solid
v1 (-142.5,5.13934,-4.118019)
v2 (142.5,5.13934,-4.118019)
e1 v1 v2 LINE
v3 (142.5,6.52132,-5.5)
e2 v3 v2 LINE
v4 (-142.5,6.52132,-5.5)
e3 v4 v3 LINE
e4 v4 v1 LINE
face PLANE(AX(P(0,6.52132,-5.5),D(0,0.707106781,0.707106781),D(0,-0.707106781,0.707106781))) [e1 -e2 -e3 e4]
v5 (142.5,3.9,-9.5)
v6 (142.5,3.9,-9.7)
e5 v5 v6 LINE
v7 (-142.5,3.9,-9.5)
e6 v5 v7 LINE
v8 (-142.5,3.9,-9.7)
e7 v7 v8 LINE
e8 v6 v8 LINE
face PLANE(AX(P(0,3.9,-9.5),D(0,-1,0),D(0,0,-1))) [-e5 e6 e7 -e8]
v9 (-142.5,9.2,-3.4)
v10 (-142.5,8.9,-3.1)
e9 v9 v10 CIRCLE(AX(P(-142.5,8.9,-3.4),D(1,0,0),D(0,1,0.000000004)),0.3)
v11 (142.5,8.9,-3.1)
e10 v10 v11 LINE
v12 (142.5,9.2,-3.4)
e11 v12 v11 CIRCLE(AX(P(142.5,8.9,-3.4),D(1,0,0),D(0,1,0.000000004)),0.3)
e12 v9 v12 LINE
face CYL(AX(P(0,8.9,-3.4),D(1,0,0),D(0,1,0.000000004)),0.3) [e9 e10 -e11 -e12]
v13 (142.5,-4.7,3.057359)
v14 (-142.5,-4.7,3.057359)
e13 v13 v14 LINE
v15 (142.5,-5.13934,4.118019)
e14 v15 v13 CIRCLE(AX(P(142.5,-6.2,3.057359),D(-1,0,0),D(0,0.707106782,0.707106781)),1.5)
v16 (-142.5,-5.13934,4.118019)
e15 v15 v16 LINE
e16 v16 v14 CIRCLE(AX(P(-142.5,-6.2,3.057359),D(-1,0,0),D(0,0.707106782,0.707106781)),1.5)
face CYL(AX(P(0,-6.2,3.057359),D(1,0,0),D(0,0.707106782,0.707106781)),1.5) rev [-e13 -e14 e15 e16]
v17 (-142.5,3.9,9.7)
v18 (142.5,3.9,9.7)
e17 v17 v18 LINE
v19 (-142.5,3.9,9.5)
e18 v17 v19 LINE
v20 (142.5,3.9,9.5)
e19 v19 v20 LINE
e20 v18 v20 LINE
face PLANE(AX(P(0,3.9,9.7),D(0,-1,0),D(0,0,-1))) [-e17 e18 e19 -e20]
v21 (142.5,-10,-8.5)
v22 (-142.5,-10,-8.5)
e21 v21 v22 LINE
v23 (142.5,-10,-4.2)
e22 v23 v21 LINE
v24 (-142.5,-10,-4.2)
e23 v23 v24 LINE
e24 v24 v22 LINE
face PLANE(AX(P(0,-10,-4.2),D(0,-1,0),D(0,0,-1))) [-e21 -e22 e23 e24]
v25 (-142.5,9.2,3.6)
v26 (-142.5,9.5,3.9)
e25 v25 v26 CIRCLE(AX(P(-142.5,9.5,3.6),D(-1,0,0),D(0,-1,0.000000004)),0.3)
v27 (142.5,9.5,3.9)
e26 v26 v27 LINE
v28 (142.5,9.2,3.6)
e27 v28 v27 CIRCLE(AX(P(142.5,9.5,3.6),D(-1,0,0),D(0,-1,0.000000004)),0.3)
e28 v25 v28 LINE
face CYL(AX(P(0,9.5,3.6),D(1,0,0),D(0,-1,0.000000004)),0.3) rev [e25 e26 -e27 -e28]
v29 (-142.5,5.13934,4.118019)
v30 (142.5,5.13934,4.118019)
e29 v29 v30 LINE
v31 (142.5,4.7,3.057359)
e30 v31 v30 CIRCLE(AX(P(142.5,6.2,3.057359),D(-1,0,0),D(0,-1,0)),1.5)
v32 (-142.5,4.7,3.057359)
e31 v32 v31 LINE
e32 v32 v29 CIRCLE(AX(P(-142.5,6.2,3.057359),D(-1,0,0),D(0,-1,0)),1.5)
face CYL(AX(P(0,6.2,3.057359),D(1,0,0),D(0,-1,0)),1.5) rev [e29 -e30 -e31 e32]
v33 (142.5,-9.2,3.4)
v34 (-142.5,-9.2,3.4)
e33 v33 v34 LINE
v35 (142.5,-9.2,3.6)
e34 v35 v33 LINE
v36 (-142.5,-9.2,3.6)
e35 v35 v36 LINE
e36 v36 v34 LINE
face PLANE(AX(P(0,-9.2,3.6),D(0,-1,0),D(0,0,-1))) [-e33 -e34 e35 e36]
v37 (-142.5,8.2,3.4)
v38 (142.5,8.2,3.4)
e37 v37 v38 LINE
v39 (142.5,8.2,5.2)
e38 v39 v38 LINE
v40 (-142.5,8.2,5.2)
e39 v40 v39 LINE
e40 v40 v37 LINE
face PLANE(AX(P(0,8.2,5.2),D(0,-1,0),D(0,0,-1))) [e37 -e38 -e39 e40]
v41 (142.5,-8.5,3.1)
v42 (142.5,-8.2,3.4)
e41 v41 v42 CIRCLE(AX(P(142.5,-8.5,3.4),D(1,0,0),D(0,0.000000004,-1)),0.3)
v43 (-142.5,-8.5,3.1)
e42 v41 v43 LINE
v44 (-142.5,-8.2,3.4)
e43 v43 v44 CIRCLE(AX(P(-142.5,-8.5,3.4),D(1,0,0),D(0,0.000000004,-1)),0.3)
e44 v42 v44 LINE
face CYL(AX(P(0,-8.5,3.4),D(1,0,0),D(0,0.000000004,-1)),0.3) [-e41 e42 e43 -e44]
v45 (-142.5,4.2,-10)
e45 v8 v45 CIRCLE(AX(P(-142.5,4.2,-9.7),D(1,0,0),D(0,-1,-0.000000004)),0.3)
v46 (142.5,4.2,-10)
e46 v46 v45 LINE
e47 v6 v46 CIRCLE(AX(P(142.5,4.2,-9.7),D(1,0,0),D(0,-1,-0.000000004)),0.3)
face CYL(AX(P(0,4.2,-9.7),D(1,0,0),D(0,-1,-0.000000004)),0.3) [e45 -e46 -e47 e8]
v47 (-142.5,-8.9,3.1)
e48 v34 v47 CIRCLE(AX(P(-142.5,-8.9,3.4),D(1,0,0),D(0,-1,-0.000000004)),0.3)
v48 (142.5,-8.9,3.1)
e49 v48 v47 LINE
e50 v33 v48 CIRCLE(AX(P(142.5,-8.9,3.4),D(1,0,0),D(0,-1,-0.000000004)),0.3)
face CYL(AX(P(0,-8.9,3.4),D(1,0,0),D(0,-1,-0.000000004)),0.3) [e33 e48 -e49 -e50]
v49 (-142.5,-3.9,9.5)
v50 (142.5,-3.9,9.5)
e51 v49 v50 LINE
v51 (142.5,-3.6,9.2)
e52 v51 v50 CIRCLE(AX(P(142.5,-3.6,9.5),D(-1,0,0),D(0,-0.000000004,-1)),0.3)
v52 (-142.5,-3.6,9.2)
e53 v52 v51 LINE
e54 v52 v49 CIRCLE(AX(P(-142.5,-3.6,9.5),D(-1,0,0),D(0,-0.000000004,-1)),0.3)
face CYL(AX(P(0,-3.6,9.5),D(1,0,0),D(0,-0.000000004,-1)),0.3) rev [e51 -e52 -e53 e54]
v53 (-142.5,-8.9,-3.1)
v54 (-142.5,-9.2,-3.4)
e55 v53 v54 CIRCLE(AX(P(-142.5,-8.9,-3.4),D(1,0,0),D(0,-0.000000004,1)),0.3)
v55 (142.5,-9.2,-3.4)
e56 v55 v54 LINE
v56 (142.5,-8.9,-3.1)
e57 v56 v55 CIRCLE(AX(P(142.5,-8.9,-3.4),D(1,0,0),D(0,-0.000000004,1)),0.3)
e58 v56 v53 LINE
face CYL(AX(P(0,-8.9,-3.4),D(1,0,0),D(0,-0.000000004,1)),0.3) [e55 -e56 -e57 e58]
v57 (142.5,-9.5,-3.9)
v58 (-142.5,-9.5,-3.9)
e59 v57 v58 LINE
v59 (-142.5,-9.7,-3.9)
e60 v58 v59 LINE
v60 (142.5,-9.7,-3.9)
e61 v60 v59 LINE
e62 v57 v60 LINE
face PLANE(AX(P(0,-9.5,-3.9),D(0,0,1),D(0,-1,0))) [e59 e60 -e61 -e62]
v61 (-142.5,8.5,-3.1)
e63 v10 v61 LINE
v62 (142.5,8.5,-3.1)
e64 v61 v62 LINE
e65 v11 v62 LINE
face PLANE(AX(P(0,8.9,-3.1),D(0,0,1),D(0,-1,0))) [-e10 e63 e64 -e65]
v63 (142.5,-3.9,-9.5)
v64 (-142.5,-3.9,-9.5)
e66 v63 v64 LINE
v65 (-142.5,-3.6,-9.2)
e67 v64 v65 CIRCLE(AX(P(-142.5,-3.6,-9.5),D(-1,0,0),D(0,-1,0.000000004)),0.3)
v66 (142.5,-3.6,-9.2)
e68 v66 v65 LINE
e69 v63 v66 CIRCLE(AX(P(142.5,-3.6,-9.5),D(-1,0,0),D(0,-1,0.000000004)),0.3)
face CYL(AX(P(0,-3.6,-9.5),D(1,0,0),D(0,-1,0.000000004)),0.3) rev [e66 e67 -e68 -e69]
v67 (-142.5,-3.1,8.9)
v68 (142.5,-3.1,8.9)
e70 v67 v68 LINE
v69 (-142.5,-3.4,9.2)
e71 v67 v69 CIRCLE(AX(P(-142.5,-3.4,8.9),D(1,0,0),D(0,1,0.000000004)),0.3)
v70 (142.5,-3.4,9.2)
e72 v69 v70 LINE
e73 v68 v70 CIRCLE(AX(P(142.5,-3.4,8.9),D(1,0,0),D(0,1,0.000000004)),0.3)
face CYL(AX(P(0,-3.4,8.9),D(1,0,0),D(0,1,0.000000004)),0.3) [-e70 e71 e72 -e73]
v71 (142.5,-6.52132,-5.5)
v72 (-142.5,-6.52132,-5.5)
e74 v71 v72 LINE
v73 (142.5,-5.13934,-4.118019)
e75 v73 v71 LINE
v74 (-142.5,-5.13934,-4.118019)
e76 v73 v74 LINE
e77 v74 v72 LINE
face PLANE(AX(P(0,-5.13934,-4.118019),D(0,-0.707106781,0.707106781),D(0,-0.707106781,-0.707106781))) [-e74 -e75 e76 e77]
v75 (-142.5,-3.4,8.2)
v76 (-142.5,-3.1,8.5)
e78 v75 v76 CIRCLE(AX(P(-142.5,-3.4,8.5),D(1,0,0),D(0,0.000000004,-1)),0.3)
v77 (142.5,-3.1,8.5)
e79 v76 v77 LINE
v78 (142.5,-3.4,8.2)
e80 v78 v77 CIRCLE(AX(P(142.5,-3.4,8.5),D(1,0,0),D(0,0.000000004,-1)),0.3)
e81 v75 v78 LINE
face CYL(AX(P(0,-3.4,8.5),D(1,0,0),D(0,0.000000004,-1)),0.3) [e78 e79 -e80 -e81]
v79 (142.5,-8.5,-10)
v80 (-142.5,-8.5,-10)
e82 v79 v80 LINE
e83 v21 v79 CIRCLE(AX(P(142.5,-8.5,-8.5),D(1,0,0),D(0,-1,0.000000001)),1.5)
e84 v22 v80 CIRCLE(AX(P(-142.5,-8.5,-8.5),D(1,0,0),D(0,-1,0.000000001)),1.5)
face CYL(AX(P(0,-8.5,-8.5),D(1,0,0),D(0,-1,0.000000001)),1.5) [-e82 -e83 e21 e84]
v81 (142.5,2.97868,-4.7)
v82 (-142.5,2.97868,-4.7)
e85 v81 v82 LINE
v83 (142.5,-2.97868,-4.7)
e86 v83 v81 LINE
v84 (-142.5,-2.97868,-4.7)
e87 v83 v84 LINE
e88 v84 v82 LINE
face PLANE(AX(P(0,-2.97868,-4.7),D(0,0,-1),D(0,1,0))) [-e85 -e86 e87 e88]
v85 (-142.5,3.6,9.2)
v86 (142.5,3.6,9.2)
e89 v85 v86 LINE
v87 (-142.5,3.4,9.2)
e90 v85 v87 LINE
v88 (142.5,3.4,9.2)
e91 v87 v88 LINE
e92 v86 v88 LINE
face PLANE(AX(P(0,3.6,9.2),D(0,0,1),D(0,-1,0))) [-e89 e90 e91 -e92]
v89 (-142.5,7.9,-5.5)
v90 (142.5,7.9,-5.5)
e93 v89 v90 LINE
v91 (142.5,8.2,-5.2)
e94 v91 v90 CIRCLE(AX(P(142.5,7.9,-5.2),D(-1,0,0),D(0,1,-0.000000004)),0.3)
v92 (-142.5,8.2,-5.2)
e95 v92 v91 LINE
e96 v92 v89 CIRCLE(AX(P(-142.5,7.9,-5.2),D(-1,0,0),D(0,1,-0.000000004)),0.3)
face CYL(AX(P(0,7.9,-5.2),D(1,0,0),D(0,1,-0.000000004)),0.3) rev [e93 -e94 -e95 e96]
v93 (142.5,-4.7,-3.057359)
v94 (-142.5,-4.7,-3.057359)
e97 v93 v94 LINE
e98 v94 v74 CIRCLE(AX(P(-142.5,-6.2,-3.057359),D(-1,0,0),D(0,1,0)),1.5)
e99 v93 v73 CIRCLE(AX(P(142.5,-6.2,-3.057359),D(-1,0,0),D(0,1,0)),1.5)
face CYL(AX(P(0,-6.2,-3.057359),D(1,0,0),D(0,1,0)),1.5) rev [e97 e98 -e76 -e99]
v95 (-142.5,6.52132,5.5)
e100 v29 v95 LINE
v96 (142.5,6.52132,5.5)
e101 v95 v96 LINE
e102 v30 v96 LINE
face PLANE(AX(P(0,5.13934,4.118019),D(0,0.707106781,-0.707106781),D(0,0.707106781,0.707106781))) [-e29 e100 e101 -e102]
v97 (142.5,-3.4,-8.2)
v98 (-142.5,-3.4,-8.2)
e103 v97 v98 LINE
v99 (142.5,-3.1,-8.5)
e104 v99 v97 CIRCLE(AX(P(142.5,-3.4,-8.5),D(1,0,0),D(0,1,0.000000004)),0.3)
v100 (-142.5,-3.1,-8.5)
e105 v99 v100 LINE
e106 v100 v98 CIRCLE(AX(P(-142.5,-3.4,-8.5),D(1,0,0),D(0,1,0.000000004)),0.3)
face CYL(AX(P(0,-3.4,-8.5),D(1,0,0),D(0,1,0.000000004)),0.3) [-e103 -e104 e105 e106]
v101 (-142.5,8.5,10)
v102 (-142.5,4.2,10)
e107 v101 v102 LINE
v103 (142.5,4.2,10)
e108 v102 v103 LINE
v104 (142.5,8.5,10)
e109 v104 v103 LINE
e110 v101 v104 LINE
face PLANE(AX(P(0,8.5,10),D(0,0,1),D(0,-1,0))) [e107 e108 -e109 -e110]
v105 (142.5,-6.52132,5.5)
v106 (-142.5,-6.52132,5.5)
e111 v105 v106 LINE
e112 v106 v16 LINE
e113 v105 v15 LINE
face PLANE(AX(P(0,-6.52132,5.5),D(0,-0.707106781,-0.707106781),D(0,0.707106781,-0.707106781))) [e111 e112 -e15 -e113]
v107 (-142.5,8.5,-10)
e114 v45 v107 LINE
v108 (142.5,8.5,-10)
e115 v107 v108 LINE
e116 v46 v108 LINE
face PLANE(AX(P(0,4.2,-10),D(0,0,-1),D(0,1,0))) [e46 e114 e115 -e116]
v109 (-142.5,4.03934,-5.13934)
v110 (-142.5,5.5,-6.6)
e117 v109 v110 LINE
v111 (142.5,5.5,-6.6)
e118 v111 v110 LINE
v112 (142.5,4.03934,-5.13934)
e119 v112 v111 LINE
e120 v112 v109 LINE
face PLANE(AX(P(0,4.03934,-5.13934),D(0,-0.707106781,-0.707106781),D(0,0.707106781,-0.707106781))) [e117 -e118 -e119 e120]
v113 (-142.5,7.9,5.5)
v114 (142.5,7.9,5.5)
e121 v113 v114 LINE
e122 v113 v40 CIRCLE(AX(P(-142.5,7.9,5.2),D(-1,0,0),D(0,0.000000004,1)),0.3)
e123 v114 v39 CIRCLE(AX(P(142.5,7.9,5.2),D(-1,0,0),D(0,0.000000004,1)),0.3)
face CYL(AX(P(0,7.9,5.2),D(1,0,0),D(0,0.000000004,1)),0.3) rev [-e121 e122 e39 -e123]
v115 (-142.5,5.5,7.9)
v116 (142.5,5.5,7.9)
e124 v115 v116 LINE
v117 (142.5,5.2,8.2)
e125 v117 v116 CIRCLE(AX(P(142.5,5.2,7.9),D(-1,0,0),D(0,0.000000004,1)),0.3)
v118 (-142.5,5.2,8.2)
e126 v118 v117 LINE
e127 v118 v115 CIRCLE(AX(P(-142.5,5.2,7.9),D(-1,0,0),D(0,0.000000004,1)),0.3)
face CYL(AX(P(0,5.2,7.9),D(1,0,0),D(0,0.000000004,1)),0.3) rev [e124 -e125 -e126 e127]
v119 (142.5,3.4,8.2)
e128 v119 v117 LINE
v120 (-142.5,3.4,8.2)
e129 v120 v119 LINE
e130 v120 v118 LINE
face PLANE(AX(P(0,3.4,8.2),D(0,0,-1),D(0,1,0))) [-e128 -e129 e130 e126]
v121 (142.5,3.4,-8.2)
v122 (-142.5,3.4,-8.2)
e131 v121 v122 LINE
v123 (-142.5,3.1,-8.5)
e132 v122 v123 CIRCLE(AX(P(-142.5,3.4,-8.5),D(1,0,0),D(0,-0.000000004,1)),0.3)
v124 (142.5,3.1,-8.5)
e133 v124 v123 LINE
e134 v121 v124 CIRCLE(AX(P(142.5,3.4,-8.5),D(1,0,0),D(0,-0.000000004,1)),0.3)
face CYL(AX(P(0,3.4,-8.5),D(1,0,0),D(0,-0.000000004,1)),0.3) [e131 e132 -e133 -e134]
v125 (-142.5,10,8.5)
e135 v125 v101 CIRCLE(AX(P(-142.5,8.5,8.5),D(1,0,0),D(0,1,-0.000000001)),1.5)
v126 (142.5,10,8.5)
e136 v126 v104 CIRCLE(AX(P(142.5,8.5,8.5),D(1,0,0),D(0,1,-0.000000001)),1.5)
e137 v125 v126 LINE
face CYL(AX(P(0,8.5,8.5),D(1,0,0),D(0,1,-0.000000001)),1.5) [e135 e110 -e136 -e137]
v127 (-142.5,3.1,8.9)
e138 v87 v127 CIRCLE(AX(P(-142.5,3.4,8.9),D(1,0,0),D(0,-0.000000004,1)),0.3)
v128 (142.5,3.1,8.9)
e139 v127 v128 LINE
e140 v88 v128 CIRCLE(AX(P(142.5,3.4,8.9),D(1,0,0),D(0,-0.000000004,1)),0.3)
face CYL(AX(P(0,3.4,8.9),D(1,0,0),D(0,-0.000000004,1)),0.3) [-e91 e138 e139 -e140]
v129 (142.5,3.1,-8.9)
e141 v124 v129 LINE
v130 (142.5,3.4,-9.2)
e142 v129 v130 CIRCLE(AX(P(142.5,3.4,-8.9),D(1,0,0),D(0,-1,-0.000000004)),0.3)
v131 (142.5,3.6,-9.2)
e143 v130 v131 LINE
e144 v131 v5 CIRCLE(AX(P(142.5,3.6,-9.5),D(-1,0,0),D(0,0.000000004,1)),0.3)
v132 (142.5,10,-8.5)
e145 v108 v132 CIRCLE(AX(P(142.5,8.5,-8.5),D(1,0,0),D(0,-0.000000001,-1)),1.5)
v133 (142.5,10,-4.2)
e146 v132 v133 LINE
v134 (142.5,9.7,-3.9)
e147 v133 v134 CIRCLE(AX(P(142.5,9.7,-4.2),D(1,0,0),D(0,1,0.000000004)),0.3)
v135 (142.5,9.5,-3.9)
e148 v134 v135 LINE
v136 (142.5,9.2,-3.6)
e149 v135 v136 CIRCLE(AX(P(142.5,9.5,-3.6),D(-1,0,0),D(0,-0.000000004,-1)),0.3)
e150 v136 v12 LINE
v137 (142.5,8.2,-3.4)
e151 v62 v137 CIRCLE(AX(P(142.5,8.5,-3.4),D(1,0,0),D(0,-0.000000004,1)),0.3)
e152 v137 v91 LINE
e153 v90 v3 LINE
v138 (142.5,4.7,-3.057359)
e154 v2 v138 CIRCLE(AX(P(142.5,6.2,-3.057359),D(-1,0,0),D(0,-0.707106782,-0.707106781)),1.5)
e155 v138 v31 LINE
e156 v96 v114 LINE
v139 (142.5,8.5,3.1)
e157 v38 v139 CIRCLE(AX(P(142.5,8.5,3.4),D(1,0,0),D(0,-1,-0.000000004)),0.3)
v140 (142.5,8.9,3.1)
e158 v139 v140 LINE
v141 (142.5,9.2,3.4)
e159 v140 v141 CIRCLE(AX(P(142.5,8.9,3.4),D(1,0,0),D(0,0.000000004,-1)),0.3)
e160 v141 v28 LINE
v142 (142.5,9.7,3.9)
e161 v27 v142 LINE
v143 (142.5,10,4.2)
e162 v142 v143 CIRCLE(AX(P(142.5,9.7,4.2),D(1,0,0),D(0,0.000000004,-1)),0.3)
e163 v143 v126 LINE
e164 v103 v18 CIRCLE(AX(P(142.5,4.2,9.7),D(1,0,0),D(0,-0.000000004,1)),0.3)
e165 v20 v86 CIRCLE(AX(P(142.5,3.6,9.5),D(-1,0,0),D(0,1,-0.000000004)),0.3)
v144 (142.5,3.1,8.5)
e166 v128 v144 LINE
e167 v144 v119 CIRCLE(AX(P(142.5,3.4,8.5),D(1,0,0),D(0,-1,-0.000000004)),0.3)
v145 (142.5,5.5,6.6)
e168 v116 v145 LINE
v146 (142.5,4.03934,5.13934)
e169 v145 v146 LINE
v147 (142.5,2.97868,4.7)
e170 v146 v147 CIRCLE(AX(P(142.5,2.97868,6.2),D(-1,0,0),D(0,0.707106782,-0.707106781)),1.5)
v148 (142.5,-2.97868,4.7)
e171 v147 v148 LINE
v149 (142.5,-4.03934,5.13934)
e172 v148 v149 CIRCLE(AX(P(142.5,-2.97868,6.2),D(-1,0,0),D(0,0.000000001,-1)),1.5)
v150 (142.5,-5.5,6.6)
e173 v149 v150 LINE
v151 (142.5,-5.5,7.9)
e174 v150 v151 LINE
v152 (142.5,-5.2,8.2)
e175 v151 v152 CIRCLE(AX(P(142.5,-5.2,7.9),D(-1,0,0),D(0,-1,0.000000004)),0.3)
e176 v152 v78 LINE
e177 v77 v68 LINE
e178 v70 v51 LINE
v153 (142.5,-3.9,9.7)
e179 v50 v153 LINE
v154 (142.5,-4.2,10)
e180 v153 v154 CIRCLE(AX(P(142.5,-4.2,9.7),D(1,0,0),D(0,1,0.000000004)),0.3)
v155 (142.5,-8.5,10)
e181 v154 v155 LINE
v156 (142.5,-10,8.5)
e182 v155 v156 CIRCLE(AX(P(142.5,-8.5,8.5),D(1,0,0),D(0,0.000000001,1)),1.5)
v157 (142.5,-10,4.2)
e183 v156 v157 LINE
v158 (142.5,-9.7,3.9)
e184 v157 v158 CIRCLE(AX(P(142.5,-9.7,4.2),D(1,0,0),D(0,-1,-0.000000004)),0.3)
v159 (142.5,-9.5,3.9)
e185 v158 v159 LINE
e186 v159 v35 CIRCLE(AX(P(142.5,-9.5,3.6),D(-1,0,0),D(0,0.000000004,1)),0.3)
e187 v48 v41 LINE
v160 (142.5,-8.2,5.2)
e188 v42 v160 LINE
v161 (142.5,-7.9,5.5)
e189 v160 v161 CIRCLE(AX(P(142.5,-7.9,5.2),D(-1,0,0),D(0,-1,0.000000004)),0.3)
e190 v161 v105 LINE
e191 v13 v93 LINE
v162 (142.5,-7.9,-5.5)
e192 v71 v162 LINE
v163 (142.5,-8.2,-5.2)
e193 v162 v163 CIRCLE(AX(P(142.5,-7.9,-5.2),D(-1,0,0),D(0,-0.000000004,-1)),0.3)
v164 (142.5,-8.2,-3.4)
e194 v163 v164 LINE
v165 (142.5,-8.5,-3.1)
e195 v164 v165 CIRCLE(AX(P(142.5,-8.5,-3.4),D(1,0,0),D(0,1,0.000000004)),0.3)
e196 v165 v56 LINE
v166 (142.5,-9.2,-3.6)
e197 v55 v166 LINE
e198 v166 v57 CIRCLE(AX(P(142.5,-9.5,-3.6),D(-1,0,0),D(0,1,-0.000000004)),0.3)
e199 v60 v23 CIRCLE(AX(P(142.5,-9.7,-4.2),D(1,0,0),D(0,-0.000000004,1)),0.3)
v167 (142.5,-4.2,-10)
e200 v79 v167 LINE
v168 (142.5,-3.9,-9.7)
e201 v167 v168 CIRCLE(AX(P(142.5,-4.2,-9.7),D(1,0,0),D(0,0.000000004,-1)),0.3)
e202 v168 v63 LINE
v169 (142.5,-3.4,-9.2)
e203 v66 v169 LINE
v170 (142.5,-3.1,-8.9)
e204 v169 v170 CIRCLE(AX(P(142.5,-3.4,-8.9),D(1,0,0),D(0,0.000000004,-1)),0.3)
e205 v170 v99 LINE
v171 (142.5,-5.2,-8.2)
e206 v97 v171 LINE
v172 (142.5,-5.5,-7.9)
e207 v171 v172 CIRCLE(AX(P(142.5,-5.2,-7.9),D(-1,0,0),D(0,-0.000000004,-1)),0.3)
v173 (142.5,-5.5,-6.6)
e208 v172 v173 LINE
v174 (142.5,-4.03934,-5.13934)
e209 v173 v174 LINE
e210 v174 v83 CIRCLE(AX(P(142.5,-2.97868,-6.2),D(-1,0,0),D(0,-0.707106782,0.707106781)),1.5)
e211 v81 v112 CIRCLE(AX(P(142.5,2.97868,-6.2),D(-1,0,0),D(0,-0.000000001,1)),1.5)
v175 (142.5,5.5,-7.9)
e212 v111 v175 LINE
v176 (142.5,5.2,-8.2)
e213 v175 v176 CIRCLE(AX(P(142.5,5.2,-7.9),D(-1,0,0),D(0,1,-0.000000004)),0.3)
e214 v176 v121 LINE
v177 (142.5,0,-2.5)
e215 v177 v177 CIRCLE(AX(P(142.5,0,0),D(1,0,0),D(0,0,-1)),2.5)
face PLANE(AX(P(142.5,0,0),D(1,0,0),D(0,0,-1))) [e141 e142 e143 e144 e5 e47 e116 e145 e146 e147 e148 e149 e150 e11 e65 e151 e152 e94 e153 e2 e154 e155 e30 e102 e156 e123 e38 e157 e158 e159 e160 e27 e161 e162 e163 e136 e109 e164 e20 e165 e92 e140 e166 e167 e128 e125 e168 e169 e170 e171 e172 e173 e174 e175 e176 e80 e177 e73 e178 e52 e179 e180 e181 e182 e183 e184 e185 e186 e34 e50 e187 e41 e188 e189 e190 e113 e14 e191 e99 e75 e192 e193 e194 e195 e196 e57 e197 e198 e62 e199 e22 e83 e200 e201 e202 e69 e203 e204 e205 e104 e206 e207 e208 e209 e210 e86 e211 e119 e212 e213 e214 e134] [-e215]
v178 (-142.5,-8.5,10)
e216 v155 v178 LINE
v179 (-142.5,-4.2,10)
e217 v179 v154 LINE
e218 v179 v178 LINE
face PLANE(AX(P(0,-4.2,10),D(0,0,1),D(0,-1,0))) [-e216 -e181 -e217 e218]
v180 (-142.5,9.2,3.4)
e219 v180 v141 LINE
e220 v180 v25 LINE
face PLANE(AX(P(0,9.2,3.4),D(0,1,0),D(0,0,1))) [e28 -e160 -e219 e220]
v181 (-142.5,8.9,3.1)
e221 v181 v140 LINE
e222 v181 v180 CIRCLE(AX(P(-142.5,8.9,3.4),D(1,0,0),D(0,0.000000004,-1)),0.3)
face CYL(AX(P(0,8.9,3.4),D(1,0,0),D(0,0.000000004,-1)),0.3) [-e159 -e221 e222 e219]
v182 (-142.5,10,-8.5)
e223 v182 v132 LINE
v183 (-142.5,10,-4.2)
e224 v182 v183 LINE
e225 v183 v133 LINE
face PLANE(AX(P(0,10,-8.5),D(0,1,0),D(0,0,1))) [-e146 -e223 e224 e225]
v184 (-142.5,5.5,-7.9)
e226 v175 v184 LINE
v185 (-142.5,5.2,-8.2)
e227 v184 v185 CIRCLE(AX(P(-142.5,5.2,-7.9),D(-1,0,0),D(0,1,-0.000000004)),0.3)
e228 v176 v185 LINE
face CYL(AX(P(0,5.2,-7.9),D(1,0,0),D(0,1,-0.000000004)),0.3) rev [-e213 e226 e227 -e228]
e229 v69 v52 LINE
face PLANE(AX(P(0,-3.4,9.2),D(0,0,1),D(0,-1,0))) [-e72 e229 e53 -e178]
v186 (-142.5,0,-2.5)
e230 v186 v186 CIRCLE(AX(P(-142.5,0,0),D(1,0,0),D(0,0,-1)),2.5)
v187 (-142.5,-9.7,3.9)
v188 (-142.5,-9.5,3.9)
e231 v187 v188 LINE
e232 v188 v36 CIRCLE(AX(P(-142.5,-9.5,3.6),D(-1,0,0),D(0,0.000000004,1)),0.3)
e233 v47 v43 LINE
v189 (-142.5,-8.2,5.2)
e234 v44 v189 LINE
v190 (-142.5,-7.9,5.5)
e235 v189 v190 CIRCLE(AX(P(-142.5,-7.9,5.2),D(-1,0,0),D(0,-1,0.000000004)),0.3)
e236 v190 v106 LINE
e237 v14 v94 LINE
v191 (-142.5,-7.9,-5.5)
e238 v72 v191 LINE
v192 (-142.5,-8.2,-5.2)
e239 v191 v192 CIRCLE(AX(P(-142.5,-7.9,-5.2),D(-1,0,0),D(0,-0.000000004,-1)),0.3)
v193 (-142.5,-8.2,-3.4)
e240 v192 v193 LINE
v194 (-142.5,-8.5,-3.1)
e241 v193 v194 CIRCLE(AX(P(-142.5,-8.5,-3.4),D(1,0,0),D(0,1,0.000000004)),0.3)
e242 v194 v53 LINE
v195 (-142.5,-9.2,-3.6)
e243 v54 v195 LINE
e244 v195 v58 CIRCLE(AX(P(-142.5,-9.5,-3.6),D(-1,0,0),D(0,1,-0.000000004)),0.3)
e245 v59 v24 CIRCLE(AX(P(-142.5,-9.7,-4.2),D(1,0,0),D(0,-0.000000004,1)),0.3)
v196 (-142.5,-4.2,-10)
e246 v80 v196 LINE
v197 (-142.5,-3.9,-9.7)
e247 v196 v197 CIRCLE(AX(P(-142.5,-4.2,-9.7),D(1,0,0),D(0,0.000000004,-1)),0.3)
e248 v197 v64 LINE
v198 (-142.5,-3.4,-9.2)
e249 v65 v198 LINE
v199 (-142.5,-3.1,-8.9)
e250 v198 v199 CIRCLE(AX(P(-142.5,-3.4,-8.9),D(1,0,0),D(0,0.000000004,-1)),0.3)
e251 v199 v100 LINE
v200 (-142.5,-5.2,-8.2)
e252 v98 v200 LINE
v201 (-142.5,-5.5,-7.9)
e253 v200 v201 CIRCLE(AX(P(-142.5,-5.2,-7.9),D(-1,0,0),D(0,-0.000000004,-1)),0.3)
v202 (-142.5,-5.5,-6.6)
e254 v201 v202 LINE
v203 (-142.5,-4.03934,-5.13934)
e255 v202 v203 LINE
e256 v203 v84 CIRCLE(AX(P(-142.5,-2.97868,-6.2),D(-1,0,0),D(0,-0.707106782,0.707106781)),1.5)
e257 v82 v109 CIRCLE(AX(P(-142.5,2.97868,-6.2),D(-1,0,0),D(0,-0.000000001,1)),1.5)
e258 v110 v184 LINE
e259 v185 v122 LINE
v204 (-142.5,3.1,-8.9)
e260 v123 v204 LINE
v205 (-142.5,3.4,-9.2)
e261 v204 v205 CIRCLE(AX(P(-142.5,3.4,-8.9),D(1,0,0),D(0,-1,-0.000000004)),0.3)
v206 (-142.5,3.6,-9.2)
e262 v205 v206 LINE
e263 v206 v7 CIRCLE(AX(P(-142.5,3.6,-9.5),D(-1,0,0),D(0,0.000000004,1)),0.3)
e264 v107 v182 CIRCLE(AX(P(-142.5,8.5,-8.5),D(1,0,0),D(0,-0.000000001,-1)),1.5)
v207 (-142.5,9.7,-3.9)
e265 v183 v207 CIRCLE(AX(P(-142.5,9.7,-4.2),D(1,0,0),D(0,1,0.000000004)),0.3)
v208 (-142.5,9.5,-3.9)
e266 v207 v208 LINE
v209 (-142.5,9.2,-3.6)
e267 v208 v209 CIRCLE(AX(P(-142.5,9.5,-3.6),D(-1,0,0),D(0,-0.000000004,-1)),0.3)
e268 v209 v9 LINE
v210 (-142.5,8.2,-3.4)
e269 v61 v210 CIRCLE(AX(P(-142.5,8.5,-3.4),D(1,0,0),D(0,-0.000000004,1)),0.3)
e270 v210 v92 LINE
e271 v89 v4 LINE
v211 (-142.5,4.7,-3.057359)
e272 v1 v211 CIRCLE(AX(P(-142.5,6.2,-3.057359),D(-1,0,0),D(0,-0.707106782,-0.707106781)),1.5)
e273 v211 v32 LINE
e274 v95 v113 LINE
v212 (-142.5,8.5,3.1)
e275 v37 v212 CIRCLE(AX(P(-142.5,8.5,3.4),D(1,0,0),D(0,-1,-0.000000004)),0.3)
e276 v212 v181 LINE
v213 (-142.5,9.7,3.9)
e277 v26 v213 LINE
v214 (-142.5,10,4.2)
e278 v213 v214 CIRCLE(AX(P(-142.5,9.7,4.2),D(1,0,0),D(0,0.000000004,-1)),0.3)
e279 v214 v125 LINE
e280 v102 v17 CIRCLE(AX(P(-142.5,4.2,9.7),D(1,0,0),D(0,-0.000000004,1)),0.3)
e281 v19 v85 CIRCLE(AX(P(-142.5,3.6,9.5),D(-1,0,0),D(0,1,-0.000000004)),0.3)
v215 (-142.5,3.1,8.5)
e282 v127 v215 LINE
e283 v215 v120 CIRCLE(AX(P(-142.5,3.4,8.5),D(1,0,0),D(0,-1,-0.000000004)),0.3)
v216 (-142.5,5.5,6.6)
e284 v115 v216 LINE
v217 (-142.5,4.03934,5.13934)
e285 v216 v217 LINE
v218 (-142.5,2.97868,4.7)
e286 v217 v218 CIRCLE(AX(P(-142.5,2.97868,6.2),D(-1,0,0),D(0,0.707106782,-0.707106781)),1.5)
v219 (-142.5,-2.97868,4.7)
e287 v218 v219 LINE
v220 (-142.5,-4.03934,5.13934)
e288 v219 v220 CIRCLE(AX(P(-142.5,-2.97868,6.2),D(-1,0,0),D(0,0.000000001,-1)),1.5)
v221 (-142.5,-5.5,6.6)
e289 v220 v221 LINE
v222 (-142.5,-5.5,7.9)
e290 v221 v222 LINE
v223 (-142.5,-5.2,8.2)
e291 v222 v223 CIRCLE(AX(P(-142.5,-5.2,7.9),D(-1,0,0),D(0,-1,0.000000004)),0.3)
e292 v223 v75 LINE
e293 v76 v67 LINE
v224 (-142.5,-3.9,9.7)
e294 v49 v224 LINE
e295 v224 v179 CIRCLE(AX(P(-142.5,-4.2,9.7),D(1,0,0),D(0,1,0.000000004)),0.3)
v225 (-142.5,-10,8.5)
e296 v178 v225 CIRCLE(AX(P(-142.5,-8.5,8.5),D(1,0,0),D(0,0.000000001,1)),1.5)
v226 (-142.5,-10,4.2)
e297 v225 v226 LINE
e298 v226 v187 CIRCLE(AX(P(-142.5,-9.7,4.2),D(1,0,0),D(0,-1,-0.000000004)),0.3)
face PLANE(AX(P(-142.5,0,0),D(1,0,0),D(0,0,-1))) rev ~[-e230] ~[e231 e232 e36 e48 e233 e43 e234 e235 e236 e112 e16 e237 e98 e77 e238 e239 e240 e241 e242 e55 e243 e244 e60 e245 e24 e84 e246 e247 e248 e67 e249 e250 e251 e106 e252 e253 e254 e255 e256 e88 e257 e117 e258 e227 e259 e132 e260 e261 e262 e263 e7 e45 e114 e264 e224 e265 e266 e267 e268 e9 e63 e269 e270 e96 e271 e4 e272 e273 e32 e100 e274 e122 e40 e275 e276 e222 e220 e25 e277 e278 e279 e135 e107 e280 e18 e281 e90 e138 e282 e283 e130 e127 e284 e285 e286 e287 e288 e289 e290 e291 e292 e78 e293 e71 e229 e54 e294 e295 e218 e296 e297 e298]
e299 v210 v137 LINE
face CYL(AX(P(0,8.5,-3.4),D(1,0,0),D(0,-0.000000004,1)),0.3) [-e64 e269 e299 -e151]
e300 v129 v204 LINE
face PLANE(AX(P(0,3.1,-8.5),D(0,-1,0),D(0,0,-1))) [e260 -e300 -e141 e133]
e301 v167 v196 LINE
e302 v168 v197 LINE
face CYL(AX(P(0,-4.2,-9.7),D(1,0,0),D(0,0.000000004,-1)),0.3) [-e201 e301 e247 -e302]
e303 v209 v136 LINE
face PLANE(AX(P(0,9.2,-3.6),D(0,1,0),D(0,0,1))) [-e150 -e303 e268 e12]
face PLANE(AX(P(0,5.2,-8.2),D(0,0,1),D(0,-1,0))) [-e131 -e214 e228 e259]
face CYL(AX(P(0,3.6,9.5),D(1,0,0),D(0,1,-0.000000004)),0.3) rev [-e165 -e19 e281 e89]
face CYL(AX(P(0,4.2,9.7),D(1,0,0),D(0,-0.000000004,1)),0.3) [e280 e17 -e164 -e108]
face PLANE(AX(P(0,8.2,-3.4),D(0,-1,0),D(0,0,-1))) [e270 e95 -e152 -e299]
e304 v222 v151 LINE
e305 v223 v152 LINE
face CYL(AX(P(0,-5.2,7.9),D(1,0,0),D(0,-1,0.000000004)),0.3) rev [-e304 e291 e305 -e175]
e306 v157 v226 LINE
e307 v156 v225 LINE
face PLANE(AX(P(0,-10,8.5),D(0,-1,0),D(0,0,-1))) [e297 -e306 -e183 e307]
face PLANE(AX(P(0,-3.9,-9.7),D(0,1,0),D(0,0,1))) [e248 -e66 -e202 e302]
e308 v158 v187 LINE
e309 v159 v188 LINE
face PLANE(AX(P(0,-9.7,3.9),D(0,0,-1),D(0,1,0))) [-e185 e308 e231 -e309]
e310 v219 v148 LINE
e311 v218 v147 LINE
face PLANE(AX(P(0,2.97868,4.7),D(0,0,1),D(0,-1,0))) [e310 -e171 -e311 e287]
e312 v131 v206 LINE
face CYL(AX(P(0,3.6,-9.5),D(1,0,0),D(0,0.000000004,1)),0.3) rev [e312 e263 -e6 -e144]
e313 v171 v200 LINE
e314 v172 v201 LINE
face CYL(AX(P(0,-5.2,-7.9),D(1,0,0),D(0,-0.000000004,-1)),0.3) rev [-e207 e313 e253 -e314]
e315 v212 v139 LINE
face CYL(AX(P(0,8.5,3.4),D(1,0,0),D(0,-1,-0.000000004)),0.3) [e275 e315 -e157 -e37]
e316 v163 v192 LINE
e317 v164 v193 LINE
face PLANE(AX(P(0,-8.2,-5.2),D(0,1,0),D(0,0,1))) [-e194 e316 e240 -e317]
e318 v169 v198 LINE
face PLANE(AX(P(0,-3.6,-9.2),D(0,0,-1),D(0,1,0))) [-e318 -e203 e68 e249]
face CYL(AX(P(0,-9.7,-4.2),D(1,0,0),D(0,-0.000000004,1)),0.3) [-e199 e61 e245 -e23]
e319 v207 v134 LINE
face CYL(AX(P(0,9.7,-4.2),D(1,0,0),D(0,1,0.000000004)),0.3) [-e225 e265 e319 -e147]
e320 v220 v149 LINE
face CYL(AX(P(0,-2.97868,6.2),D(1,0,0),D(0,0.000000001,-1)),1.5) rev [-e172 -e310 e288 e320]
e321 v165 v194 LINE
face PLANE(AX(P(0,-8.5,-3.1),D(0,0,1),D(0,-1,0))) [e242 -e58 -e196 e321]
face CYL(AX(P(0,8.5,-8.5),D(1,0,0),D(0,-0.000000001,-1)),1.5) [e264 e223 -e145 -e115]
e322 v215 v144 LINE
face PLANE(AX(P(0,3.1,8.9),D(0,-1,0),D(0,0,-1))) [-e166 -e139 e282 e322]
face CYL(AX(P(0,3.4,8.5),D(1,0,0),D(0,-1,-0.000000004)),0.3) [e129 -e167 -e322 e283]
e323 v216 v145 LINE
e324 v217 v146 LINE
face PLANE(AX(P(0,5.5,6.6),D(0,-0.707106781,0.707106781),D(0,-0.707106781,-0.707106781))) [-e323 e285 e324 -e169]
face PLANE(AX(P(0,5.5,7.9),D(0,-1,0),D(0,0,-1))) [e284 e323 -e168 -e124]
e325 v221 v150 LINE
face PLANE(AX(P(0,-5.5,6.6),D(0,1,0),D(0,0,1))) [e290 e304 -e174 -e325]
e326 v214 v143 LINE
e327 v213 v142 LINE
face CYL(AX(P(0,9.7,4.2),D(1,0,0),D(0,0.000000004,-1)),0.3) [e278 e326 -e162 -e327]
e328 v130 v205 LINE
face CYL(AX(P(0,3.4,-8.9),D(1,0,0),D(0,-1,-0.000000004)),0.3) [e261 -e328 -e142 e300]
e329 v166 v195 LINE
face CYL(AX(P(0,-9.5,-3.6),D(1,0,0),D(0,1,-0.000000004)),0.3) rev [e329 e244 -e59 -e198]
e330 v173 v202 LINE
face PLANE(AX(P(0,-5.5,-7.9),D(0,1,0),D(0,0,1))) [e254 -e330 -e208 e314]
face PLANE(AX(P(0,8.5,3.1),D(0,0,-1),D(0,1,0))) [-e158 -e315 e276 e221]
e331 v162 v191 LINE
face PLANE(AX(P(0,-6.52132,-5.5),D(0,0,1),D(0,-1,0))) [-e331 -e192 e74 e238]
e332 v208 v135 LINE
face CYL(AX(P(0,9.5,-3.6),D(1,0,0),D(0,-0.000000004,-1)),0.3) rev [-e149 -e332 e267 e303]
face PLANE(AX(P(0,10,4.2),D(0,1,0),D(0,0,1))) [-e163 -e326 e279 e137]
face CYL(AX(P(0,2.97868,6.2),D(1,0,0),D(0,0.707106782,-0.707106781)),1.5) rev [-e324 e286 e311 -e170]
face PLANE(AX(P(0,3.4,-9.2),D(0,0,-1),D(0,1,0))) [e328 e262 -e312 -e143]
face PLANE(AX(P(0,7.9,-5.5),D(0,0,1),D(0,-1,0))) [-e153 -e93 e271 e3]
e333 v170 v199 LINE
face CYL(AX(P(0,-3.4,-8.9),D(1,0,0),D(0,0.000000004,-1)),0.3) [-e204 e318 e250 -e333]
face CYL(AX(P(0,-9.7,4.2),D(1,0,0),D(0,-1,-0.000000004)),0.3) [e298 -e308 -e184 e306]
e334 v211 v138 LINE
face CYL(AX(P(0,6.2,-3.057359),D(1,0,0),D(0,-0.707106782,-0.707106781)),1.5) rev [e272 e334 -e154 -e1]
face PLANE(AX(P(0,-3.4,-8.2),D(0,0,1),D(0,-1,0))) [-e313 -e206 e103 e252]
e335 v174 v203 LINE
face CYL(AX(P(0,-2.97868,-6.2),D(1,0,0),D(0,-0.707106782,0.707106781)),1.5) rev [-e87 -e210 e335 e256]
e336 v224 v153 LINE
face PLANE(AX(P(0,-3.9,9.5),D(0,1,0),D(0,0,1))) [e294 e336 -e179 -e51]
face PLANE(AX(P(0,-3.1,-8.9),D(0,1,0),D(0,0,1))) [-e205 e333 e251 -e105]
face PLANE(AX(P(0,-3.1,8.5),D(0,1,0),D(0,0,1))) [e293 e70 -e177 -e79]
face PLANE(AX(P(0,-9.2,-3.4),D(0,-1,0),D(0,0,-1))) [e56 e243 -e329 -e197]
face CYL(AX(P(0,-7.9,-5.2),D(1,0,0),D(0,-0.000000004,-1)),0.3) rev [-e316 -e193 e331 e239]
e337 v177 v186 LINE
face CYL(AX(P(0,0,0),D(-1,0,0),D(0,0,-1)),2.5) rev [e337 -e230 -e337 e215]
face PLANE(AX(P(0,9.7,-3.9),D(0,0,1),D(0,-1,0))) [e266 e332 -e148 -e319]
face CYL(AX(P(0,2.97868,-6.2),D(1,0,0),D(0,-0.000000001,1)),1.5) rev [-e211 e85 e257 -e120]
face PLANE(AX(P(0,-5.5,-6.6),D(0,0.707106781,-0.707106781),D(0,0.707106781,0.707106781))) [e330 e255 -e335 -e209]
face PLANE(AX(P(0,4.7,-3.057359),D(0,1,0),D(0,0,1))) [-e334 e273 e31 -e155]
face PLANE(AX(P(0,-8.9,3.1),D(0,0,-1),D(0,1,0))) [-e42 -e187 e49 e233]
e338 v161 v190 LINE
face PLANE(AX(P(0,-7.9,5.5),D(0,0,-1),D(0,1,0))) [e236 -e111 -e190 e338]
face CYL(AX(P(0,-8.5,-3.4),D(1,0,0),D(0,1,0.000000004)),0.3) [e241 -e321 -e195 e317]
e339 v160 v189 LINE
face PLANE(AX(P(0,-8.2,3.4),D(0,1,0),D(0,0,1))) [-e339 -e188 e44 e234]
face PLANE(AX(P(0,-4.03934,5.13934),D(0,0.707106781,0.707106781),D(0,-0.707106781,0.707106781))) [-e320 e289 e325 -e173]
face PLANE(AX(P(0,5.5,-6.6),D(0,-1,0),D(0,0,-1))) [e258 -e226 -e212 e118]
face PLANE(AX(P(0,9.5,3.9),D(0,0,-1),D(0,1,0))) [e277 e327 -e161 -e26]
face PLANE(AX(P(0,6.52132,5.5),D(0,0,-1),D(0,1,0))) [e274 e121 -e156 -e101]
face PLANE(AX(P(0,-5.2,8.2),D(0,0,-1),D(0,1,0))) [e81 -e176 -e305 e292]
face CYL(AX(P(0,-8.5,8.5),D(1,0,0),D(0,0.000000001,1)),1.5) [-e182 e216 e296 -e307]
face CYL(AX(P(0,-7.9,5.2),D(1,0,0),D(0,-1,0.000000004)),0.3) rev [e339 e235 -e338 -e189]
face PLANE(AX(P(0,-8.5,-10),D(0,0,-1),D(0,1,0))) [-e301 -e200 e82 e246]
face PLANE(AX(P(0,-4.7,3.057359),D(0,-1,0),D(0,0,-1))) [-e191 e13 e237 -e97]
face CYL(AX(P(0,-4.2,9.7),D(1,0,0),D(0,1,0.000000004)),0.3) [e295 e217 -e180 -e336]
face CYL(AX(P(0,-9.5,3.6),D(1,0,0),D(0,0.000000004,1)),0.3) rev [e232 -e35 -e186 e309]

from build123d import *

# Parameters (mm, degrees)
SKETCH1_R           = 2.5
BOSS_EXTRUDE2_DEPTH = 142.5


with BuildPart() as part:
    # Sketch1 → Boss-Extrude2 (new, symmetric)
    with BuildSketch(Plane(origin=(0, 0, 0), x_dir=(0, 0, -1), z_dir=(1, 0, 0))):
        with BuildLine():
            Line((10, 4.2), (10, 8.5))
            ThreePointArc((10, 8.5), (9.560660172, 9.560660172), (8.5, 10))
            Line((8.5, 10), (4.2, 10))
            ThreePointArc((4.2, 10), (3.987867966, 9.912132034), (3.9, 9.7))
            Line((3.9, 9.7), (3.9, 9.5))
            ThreePointArc((3.9, 9.5), (3.812132034, 9.287867966), (3.6, 9.2))
            Line((3.6, 9.2), (3.4, 9.2))
            ThreePointArc((3.4, 9.2), (3.187867966, 9.112132034), (3.1, 8.9))
            Line((3.1, 8.9), (3.1, 8.5))
            ThreePointArc((3.1, 8.5), (3.187867966, 8.287867966), (3.4, 8.2))
            Line((3.4, 8.2), (5.2, 8.2))
            ThreePointArc((5.2, 8.2), (5.412132034, 8.112132034), (5.5, 7.9))
            Line((5.5, 7.9), (5.5, 6.521320344))
            Line((5.5, 6.521320344), (4.118019485, 5.139339828))
            ThreePointArc((4.118019485, 5.139339828), (3.631384461, 4.814180701), (3.057359313, 4.7))
            Line((3.057359313, 4.7), (-3.057359313, 4.7))
            ThreePointArc((-3.057359313, 4.7), (-3.631384461, 4.814180701), (-4.118019485, 5.139339828))
            Line((-4.118019485, 5.139339828), (-5.5, 6.521320344))
            Line((-5.5, 6.521320344), (-5.5, 7.9))
            ThreePointArc((-5.5, 7.9), (-5.412132034, 8.112132034), (-5.2, 8.2))
            Line((-5.2, 8.2), (-3.4, 8.2))
            ThreePointArc((-3.4, 8.2), (-3.187867966, 8.287867966), (-3.1, 8.5))
            Line((-3.1, 8.5), (-3.1, 8.9))
            ThreePointArc((-3.1, 8.9), (-3.187867966, 9.112132034), (-3.4, 9.2))
            Line((-3.4, 9.2), (-3.6, 9.2))
            ThreePointArc((-3.6, 9.2), (-3.812132034, 9.287867966), (-3.9, 9.5))
            Line((-3.9, 9.5), (-3.9, 9.7))
            ThreePointArc((-3.9, 9.7), (-3.987867966, 9.912132034), (-4.2, 10))
            Line((-4.2, 10), (-8.5, 10))
            ThreePointArc((-8.5, 10), (-9.560660172, 9.560660172), (-10, 8.5))
            Line((-10, 8.5), (-10, 4.2))
            ThreePointArc((-10, 4.2), (-9.912132034, 3.987867966), (-9.7, 3.9))
            Line((-9.7, 3.9), (-9.5, 3.9))
            ThreePointArc((-9.5, 3.9), (-9.287867966, 3.812132034), (-9.2, 3.6))
            Line((-9.2, 3.6), (-9.2, 3.4))
            ThreePointArc((-9.2, 3.4), (-9.112132034, 3.187867966), (-8.9, 3.1))
            Line((-8.9, 3.1), (-8.5, 3.1))
            ThreePointArc((-8.5, 3.1), (-8.287867966, 3.187867966), (-8.2, 3.4))
            Line((-8.2, 3.4), (-8.2, 5.2))
            ThreePointArc((-8.2, 5.2), (-8.112132034, 5.412132034), (-7.9, 5.5))
            Line((-7.9, 5.5), (-6.6, 5.5))
            Line((-6.6, 5.5), (-5.139339828, 4.039339828))
            ThreePointArc((-5.139339828, 4.039339828), (-4.814180701, 3.552704805), (-4.7, 2.978679656))
            Line((-4.7, 2.978679656), (-4.7, -2.978679656))
            ThreePointArc((-4.7, -2.978679656), (-4.814180701, -3.552704805), (-5.139339828, -4.039339828))
            Line((-5.139339828, -4.039339828), (-6.6, -5.5))
            Line((-6.6, -5.5), (-7.9, -5.5))
            ThreePointArc((-7.9, -5.5), (-8.112132034, -5.412132034), (-8.2, -5.2))
            Line((-8.2, -5.2), (-8.2, -3.4))
            ThreePointArc((-8.2, -3.4), (-8.287867966, -3.187867966), (-8.5, -3.1))
            Line((-8.5, -3.1), (-8.9, -3.1))
            ThreePointArc((-8.9, -3.1), (-9.112132034, -3.187867966), (-9.2, -3.4))
            Line((-9.2, -3.4), (-9.2, -3.6))
            ThreePointArc((-9.2, -3.6), (-9.287867966, -3.812132034), (-9.5, -3.9))
            Line((-9.5, -3.9), (-9.7, -3.9))
            ThreePointArc((-9.7, -3.9), (-9.912132034, -3.987867966), (-10, -4.2))
            Line((-10, -4.2), (-10, -8.5))
            ThreePointArc((-10, -8.5), (-9.560660172, -9.560660172), (-8.5, -10))
            Line((-8.5, -10), (-4.2, -10))
            ThreePointArc((-4.2, -10), (-3.987867966, -9.912132034), (-3.9, -9.7))
            Line((-3.9, -9.7), (-3.9, -9.5))
            ThreePointArc((-3.9, -9.5), (-3.812132034, -9.287867966), (-3.6, -9.2))
            Line((-3.6, -9.2), (-3.4, -9.2))
            ThreePointArc((-3.4, -9.2), (-3.187867966, -9.112132034), (-3.1, -8.9))
            Line((-3.1, -8.9), (-3.1, -8.5))
            ThreePointArc((-3.1, -8.5), (-3.187867966, -8.287867966), (-3.4, -8.2))
            Line((-3.4, -8.2), (-5.2, -8.2))
            ThreePointArc((-5.2, -8.2), (-5.412132034, -8.112132034), (-5.5, -7.9))
            Line((-5.5, -7.9), (-5.5, -6.521320344))
            Line((-5.5, -6.521320344), (-4.118019485, -5.139339828))
            ThreePointArc((-4.118019485, -5.139339828), (-3.631384461, -4.814180701), (-3.057359313, -4.7))
            Line((-3.057359313, -4.7), (3.057359313, -4.7))
            ThreePointArc((3.057359313, -4.7), (3.631384461, -4.814180701), (4.118019485, -5.139339828))
            Line((4.118019485, -5.139339828), (5.5, -6.521320344))
            Line((5.5, -6.521320344), (5.5, -7.9))
            ThreePointArc((5.5, -7.9), (5.412132034, -8.112132034), (5.2, -8.2))
            Line((5.2, -8.2), (3.4, -8.2))
            ThreePointArc((3.4, -8.2), (3.187867966, -8.287867966), (3.1, -8.5))
            Line((3.1, -8.5), (3.1, -8.9))
            ThreePointArc((3.1, -8.9), (3.187867966, -9.112132034), (3.4, -9.2))
            Line((3.4, -9.2), (3.6, -9.2))
            ThreePointArc((3.6, -9.2), (3.812132034, -9.287867966), (3.9, -9.5))
            Line((3.9, -9.5), (3.9, -9.7))
            ThreePointArc((3.9, -9.7), (3.987867966, -9.912132034), (4.2, -10))
            Line((4.2, -10), (8.5, -10))
            ThreePointArc((8.5, -10), (9.560660172, -9.560660172), (10, -8.5))
            Line((10, -8.5), (10, -4.2))
            ThreePointArc((10, -4.2), (9.912132034, -3.987867966), (9.7, -3.9))
            Line((9.7, -3.9), (9.5, -3.9))
            ThreePointArc((9.5, -3.9), (9.287867966, -3.812132034), (9.2, -3.6))
            Line((9.2, -3.6), (9.2, -3.4))
            ThreePointArc((9.2, -3.4), (9.112132034, -3.187867966), (8.9, -3.1))
            Line((8.9, -3.1), (8.5, -3.1))
            ThreePointArc((8.5, -3.1), (8.287867966, -3.187867966), (8.2, -3.4))
            Line((8.2, -3.4), (8.2, -5.2))
            ThreePointArc((8.2, -5.2), (8.112132034, -5.412132034), (7.9, -5.5))
            Line((7.9, -5.5), (6.6, -5.5))
            Line((6.6, -5.5), (5.139339828, -4.039339828))
            ThreePointArc((5.139339828, -4.039339828), (4.814180701, -3.552704805), (4.7, -2.978679656))
            Line((4.7, -2.978679656), (4.7, 2.978679656))
            ThreePointArc((4.7, 2.978679656), (4.814180701, 3.552704805), (5.139339828, 4.039339828))
            Line((5.139339828, 4.039339828), (6.6, 5.5))
            Line((6.6, 5.5), (7.9, 5.5))
            ThreePointArc((7.9, 5.5), (8.112132034, 5.412132034), (8.2, 5.2))
            Line((8.2, 5.2), (8.2, 3.4))
            ThreePointArc((8.2, 3.4), (8.287867966, 3.187867966), (8.5, 3.1))
            Line((8.5, 3.1), (8.9, 3.1))
            ThreePointArc((8.9, 3.1), (9.112132034, 3.187867966), (9.2, 3.4))
            Line((9.2, 3.4), (9.2, 3.6))
            ThreePointArc((9.2, 3.6), (9.287867966, 3.812132034), (9.5, 3.9))
            Line((9.5, 3.9), (9.7, 3.9))
            ThreePointArc((9.7, 3.9), (9.912132034, 3.987867966), (10, 4.2))
        make_face()
        Circle(SKETCH1_R, mode=Mode.SUBTRACT)
    extrude(amount=BOSS_EXTRUDE2_DEPTH, both=True)


solid = part.part
